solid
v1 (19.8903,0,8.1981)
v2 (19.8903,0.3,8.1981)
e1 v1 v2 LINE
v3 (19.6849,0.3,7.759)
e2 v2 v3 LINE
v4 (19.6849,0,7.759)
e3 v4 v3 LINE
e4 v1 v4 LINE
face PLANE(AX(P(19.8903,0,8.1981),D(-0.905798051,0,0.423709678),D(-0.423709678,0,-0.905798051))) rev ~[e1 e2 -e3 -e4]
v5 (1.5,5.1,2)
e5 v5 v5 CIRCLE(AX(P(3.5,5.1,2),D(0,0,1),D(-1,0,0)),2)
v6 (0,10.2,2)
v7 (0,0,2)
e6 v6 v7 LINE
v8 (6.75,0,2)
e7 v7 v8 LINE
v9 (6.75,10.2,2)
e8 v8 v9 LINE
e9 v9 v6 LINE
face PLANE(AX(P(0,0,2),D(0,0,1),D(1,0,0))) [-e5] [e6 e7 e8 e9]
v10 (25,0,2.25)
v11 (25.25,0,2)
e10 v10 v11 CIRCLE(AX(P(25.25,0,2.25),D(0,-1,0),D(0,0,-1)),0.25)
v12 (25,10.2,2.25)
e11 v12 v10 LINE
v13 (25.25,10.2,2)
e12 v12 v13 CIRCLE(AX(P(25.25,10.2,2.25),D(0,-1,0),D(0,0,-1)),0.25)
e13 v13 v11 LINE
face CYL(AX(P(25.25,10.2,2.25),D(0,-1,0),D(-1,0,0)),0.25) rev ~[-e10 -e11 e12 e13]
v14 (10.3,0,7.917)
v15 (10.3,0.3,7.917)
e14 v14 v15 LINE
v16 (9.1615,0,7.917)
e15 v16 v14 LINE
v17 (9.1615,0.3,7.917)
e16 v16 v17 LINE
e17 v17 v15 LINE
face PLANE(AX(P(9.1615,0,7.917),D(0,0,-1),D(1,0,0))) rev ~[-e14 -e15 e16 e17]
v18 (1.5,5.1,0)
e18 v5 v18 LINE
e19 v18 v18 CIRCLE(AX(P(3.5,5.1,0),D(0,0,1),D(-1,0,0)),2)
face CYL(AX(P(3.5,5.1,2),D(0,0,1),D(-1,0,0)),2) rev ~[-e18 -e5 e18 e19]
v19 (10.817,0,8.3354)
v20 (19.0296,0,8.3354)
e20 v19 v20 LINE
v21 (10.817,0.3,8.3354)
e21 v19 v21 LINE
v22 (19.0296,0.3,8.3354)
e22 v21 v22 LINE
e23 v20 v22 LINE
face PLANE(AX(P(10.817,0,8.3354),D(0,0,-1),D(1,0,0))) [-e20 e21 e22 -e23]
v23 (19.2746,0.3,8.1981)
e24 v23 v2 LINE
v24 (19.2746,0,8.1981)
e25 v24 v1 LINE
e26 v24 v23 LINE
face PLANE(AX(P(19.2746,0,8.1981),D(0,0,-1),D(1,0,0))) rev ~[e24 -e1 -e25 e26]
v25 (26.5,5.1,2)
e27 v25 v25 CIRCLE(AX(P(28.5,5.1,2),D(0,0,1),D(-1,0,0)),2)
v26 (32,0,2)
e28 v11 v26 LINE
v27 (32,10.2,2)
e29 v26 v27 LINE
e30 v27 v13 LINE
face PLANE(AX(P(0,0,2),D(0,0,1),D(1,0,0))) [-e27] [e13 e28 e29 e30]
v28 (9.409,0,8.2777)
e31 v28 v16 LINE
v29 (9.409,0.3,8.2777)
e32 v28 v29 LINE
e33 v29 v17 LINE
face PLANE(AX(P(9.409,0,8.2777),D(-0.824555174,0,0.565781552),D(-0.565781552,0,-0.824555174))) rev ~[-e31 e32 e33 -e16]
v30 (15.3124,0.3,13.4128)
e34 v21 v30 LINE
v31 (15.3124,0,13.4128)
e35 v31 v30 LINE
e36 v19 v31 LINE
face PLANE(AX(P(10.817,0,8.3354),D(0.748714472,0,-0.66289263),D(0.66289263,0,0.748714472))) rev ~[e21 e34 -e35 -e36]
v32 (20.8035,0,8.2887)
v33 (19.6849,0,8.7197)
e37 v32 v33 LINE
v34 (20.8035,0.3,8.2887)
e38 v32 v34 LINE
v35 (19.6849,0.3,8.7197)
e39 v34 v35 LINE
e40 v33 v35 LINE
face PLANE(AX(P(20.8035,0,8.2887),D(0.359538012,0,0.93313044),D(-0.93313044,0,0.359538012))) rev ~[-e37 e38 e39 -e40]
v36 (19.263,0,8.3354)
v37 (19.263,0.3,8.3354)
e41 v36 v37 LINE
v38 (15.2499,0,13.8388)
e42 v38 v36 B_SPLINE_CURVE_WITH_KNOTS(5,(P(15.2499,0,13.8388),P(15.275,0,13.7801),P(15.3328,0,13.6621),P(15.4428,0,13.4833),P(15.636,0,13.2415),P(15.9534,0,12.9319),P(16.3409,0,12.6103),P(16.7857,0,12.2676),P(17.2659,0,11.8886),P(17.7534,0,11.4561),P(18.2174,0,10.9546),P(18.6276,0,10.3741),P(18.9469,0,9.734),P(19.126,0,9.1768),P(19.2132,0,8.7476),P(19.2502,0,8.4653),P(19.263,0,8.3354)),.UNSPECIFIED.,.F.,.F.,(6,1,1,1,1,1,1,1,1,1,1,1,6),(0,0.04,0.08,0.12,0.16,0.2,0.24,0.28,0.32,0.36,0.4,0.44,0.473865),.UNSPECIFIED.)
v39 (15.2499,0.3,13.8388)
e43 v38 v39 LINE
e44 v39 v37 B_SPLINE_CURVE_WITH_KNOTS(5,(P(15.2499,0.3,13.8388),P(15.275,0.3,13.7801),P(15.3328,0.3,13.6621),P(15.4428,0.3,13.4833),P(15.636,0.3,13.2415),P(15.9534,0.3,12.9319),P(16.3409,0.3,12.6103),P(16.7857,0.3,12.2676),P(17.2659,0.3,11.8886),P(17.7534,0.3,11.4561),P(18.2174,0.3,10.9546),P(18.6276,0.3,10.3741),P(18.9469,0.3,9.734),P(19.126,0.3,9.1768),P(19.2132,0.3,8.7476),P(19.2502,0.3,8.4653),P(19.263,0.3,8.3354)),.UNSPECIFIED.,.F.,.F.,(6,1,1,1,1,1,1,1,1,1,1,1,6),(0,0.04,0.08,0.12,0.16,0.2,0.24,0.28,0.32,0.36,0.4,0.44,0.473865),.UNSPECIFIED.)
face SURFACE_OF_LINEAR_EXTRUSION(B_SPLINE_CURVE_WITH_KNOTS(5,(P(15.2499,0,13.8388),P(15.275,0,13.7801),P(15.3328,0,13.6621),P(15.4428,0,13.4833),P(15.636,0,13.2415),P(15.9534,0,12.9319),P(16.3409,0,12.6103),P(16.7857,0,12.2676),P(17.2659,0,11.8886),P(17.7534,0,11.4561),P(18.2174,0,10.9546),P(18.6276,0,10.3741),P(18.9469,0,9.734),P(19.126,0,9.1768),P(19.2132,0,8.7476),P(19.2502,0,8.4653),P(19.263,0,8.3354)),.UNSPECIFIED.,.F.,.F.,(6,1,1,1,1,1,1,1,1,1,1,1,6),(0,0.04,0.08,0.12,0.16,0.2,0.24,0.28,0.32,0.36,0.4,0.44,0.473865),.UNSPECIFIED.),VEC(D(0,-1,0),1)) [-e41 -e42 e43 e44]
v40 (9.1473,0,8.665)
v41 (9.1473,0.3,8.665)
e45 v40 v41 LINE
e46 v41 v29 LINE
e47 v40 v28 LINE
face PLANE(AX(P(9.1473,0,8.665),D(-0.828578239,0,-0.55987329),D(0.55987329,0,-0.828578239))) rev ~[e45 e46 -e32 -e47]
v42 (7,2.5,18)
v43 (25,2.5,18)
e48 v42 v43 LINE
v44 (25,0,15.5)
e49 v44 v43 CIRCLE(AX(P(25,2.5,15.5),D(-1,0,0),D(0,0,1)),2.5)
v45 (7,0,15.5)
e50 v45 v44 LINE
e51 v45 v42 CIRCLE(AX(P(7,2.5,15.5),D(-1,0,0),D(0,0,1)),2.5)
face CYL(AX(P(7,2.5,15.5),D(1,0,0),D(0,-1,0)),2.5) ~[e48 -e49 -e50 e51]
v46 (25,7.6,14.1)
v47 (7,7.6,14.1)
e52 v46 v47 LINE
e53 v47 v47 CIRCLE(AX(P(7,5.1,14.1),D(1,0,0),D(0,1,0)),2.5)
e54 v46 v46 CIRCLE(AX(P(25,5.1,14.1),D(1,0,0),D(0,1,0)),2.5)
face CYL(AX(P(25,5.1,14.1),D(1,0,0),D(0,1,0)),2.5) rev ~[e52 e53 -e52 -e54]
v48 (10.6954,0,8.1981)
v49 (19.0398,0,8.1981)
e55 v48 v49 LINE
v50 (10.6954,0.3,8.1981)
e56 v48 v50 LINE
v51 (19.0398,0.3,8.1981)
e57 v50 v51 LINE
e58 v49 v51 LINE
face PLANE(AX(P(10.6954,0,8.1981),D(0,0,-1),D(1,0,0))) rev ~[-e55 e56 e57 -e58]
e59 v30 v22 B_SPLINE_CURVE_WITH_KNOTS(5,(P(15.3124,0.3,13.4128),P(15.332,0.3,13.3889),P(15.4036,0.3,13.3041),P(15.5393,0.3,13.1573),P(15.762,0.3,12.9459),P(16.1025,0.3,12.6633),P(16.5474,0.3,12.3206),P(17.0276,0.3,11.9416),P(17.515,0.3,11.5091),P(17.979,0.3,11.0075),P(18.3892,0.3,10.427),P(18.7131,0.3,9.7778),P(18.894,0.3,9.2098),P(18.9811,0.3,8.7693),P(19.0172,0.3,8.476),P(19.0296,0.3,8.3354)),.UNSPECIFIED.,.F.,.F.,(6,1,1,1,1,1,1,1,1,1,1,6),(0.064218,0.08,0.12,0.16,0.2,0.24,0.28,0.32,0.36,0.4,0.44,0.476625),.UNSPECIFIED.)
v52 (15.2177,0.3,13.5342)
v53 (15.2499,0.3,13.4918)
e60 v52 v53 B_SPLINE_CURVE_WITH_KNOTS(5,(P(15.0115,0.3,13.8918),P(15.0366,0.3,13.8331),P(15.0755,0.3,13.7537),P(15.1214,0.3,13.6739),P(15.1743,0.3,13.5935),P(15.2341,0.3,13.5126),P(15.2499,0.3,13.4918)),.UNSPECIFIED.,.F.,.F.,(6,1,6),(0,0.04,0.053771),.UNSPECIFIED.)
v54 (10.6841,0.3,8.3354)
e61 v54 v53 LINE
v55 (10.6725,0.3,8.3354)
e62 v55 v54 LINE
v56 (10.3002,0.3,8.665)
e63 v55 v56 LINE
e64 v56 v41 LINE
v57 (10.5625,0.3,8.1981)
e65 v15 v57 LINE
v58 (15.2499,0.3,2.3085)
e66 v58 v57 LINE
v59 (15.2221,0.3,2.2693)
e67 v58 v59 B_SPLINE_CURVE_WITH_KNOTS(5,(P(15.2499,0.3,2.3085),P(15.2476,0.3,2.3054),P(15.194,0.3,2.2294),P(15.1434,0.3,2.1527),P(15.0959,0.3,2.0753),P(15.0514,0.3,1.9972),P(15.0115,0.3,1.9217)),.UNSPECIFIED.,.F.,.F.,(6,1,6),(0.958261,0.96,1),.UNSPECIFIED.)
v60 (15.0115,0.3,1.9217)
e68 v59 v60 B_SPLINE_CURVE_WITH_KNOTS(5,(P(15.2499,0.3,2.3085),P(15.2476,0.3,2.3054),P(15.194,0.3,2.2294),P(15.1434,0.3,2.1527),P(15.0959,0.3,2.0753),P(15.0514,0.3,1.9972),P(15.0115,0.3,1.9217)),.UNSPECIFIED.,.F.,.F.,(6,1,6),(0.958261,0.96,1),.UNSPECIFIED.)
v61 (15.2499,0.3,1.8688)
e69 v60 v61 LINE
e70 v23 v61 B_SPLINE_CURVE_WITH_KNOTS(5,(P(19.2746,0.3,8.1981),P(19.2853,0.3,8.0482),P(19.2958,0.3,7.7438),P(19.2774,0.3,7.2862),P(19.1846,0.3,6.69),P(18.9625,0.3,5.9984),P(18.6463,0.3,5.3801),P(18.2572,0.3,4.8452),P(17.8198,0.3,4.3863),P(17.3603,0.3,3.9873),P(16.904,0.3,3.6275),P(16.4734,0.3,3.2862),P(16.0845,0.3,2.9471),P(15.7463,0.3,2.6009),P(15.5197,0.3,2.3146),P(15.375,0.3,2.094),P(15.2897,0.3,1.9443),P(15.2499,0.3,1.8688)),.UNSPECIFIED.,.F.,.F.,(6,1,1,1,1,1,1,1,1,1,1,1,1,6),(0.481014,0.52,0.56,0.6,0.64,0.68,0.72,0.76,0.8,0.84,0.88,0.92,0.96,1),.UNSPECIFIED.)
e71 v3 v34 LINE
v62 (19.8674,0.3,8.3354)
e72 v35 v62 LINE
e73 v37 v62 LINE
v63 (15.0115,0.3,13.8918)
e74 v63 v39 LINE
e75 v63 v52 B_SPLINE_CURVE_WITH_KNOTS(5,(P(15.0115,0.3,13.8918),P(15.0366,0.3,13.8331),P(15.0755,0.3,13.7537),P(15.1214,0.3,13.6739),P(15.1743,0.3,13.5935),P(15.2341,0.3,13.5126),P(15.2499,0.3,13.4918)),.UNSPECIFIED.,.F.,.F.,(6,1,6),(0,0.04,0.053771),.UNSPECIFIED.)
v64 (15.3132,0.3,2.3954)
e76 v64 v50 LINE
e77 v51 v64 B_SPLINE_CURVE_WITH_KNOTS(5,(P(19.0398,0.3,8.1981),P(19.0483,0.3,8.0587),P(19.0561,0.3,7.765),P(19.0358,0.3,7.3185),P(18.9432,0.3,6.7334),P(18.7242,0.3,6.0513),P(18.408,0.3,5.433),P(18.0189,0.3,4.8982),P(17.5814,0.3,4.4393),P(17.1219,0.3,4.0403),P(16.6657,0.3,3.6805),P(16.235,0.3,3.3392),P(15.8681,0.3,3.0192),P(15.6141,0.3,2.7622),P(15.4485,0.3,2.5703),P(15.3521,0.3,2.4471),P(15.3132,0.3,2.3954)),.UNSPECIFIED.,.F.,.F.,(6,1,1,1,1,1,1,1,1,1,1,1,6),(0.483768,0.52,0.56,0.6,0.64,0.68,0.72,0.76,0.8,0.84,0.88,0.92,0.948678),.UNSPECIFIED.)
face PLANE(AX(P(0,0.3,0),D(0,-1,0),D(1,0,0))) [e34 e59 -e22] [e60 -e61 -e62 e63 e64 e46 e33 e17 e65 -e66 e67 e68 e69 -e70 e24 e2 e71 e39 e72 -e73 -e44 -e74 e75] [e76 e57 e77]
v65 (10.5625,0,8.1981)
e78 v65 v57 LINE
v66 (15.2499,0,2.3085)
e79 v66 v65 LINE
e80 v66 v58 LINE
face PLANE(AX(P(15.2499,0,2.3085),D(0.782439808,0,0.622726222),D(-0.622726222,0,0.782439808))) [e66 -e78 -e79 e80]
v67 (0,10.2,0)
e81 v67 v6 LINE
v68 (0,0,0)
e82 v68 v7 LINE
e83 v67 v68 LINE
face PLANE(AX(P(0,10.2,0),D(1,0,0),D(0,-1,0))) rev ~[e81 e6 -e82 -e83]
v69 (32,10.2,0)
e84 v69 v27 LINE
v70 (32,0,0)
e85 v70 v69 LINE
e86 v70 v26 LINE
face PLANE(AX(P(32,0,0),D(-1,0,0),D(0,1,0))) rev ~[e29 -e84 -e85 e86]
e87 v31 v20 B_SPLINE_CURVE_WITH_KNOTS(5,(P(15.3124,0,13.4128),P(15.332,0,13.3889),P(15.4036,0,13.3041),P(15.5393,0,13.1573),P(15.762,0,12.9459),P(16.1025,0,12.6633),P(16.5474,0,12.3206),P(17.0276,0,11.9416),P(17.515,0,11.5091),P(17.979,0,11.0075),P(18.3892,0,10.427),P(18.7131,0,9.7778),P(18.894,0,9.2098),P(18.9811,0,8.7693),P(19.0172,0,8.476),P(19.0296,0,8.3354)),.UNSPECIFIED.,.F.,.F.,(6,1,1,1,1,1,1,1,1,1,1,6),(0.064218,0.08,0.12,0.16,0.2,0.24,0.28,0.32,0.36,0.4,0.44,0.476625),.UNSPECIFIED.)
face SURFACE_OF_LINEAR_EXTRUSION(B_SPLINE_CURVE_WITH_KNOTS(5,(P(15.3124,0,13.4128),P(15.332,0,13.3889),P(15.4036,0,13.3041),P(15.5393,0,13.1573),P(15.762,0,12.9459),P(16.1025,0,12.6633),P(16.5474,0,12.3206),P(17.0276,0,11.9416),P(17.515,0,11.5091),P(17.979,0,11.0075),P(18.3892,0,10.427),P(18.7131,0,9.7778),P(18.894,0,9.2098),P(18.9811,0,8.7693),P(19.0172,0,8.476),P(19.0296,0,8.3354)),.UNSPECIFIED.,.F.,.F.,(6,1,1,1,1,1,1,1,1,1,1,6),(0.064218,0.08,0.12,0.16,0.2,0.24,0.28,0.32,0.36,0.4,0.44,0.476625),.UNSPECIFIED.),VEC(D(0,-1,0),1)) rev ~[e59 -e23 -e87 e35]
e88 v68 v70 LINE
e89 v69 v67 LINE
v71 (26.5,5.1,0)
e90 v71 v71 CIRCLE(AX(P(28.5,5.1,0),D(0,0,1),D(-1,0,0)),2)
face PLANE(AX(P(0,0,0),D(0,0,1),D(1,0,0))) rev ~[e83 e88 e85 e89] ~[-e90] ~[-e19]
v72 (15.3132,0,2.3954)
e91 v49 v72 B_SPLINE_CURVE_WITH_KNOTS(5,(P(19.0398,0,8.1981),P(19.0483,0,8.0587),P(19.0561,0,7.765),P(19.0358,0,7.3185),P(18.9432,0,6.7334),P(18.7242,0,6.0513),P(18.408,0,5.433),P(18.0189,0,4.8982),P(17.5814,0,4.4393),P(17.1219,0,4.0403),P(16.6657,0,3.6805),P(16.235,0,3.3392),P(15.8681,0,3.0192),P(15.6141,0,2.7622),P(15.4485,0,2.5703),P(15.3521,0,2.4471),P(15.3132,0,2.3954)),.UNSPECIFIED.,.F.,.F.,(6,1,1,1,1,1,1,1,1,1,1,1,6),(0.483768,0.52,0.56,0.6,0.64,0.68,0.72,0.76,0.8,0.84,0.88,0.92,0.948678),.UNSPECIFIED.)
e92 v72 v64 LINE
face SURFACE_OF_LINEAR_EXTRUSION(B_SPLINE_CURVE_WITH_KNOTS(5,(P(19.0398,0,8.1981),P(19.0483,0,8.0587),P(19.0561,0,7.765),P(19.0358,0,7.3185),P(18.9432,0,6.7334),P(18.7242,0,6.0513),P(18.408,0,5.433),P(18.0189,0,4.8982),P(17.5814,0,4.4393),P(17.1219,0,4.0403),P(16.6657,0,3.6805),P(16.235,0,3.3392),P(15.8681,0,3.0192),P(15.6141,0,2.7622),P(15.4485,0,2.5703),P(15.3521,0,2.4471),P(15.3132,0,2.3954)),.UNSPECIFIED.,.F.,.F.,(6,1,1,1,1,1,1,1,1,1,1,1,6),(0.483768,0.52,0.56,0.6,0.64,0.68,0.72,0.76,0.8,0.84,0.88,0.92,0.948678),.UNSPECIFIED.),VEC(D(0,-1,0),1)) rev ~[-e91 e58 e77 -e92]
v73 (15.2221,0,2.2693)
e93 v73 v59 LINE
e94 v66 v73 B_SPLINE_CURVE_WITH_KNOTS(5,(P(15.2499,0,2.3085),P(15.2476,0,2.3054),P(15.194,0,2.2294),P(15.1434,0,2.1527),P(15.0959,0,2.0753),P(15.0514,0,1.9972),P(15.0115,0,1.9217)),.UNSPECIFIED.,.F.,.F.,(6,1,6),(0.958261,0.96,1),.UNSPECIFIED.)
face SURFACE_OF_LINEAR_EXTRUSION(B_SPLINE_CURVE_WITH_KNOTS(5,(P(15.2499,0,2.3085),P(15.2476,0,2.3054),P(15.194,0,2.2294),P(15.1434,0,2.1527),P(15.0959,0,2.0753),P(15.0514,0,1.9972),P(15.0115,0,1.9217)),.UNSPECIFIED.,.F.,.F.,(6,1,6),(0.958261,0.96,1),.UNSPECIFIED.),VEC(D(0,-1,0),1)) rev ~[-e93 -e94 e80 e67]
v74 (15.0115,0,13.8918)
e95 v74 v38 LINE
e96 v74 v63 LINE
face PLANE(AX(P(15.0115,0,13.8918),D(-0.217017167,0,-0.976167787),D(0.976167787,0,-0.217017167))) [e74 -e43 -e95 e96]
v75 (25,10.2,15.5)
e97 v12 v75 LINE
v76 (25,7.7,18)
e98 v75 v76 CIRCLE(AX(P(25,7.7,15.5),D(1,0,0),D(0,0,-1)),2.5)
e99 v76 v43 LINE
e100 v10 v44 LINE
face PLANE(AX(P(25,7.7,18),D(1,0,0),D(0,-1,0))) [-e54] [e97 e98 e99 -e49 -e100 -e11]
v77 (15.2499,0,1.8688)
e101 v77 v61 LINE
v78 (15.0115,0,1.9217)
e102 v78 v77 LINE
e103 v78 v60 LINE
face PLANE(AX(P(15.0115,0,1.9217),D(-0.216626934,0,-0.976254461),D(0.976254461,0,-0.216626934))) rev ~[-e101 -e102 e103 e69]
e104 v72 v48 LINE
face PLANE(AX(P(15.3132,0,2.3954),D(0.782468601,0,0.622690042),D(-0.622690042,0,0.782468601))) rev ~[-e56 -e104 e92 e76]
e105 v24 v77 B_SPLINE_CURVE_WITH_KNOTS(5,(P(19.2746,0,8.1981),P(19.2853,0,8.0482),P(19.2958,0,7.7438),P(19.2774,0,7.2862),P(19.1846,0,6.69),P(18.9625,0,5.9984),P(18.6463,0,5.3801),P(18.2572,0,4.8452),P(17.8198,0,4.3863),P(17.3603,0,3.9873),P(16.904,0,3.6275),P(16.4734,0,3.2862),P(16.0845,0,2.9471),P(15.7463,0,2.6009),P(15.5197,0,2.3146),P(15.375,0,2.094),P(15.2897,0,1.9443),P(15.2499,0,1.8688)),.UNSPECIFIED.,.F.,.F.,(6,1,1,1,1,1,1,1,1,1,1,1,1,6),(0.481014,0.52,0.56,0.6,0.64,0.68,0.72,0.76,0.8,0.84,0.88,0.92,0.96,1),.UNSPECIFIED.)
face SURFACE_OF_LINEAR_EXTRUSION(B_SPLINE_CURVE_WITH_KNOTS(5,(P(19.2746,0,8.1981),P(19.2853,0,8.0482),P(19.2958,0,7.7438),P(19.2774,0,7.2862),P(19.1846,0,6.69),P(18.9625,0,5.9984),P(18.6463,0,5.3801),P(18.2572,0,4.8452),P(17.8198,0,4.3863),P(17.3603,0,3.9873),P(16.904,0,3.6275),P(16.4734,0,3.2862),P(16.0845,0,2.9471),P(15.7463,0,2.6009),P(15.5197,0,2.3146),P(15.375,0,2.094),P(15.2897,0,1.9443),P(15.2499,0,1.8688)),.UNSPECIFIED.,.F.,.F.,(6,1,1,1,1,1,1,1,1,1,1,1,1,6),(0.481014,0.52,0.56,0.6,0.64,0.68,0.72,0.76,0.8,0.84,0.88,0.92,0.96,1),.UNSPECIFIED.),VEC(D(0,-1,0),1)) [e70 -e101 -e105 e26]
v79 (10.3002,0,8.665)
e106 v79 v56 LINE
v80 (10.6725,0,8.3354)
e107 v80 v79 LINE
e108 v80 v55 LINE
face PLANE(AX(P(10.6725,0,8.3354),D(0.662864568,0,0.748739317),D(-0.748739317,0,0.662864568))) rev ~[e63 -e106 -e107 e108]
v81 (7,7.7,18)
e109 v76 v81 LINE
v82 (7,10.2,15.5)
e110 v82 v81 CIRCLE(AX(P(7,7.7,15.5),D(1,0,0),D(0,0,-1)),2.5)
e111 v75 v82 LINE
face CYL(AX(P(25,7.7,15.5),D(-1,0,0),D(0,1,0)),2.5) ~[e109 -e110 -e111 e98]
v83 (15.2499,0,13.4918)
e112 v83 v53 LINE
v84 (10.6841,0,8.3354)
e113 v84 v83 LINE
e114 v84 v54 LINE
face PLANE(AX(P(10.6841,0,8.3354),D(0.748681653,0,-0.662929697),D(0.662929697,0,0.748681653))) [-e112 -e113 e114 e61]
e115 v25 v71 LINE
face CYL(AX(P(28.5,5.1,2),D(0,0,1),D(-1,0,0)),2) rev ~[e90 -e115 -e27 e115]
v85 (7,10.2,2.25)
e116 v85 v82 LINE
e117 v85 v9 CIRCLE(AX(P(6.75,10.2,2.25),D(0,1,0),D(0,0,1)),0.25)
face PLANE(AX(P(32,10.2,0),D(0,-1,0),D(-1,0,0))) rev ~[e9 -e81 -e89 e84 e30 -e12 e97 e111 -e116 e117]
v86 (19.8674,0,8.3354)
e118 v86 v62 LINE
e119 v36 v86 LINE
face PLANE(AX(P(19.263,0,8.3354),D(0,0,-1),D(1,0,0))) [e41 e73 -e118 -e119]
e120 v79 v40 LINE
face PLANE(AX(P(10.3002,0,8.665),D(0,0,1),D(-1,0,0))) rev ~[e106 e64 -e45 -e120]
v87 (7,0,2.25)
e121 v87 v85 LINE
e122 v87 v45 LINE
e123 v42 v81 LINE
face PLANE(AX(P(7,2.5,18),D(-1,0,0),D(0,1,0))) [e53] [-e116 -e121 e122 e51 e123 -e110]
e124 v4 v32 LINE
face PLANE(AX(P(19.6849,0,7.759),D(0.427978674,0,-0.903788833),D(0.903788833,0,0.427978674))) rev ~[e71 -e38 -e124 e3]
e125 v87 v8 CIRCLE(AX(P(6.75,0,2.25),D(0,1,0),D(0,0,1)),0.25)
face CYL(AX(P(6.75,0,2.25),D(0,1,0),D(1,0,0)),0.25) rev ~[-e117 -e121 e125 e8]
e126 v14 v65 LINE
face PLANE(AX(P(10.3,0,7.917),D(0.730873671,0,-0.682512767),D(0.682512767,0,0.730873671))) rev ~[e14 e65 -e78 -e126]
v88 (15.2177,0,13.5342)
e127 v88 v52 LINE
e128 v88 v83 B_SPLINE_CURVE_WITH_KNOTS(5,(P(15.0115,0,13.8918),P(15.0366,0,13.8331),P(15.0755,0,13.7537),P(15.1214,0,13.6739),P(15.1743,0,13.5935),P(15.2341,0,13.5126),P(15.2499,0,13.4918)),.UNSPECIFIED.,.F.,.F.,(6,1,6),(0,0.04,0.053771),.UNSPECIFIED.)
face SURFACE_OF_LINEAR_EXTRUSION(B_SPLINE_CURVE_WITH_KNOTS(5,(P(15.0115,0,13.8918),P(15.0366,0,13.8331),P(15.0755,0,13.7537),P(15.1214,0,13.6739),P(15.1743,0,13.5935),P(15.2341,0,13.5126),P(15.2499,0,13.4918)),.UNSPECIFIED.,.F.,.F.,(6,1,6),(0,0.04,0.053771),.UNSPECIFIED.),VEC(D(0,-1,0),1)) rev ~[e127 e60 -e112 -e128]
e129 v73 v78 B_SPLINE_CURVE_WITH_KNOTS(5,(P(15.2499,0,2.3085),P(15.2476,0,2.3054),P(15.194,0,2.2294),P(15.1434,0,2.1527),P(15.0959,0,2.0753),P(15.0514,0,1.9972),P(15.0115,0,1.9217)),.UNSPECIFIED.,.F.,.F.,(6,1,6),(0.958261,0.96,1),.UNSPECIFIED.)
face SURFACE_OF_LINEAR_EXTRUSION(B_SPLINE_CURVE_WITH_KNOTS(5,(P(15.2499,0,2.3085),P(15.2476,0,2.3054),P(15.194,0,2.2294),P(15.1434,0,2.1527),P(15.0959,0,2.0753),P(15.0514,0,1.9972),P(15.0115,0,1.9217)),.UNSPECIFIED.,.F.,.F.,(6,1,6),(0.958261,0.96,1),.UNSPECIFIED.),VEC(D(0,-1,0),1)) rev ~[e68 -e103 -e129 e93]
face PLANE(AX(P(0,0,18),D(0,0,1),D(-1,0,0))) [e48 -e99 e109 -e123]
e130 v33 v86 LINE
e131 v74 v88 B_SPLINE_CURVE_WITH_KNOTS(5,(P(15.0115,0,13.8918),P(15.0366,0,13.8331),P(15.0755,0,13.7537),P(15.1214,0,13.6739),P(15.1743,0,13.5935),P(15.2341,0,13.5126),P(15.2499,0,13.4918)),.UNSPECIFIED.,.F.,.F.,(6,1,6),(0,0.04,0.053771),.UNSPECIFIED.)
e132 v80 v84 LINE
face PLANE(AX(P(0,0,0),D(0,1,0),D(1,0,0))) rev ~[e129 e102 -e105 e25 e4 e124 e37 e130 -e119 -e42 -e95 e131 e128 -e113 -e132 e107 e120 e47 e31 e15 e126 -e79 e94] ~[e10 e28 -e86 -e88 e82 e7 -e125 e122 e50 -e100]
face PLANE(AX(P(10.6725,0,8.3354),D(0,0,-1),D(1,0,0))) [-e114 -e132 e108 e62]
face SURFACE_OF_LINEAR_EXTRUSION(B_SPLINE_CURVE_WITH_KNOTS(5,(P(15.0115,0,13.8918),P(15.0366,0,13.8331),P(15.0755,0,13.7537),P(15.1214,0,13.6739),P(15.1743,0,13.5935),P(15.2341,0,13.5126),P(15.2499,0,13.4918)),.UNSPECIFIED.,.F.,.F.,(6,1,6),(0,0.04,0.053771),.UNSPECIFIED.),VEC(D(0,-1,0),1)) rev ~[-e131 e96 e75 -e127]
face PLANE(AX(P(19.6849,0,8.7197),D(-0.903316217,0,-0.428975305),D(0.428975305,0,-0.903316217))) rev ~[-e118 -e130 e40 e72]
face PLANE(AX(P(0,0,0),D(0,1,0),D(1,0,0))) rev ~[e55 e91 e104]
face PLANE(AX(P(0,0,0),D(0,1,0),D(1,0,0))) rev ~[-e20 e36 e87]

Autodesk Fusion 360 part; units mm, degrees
sketch "Sketch1" plane through (0, 0, 0) normal (0, 0, 1) x (1, 0, 0)
  line L0 (0, 0) -> (32, 0)
  line L1 (32, 0) -> (32, 10.2)
  line L2 (32, 10.2) -> (0, 10.2)
  line L3 (0, 10.2) -> (0, 0)
  dimension "d1" = 32
  dimension "d2" = 10.2
extrude "Extrude1" add sketch "Sketch1" along normal blind 2
sketch "Sketch2" plane through (0, 0, 2) normal (0, 0, 1) x (-1, 0, 0)
  line L0 (0, -10.2) -> (0, 0)
  line L1 (0, 0) -> (-32, 0)
  line L2 (-32, 0) -> (-32, -10.2)
  line L3 (-32, -10.2) -> (0, -10.2)
  line L4 (-7, -10.2) -> (-25, -10.2)
  line L5 (-25, -10.2) -> (-25, 0)
  line L6 (-25, 0) -> (-7, 0)
  line L7 (-7, 0) -> (-7, -10.2)
  circle A0 centre (-3.5, -5.1) radius 2
  circle A1 centre (-28.5, -5.1) radius 2
  dimension "d5" = 7
  dimension "d6" = 7
  dimension "d7" = 5.1
  dimension "d8" = 3.5
  dimension "d9" = 4
  dimension "d10" = 3.5
  dimension "d11" = 5.1
  dimension "d12" = 4
extrude "Extrude2" cut sketch "Sketch2" against normal blind 2.1 contours A0 | A1
extrude "Extrude3" add sketch "Sketch2" along normal blind 16 contours L1 L3 L4 L5 L6 L7
sketch "Sketch3" plane through (25, 0, 0) normal (1, 0, 0) x (0, 1, 0)
  line L0 (0, 2) -> (10.2, 2)
  line L1 (10.2, 2) -> (10.2, 18)
  line L2 (10.2, 18) -> (0, 18)
  line L3 (0, 18) -> (0, 2)
  circle A0 centre (5.1, 14.1) radius 2.5
  dimension "d17" = 3.9
  dimension "d18" = 5.1
  dimension "d19" = 5
extrude "Extrude4" cut sketch "Sketch3" against normal blind 20 contours A0
fillet "Fillet1" radius 2.5 2 edges at (16, 0, 18) (16, 10.2, 18)
fillet "Fillet2" radius 0.25 2 edges at (25, 5.1, 2) (7, 5.1, 2)
sketch "Sketch4" plane through (0, 0, 0) normal (0, -1, 0) x (1, 0, 0)
  line L0 (25, 15.5) -> (7, 15.5)
  line L1 (7, 15.5) -> (7, 2.25)
  arc A0 (6.75, 2) -> (7, 2.25) centre (6.75, 2.25) ccw
  line L2 (6.75, 2) -> (0, 2)
  line L3 (0, 2) -> (0, 0)
  line L4 (0, 0) -> (32, 0)
  line L5 (32, 0) -> (32, 2)
  line L6 (32, 2) -> (25.25, 2)
  arc A1 (25, 2.25) -> (25.25, 2) centre (25.25, 2.25) ccw
  line L7 (25, 2.25) -> (25, 15.5)
  line L8 (15.0115, 13.8918) -> (15.2499, 13.8388)
  line L9 (15.0115, 1.9217) -> (15.2499, 1.8688)
  line L10 (15.2499, 2.3085) -> (10.5625, 8.1981)
  line L11 (10.6841, 8.3354) -> (15.2499, 13.4918)
  line L12 (10.817, 8.3354) -> (15.3124, 13.4128)
  line L13 (15.3132, 2.3954) -> (10.6954, 8.1981)
  spline S0 degree 5 poles (15.0115, 13.8918) (15.0366, 13.8331) (15.0755, 13.7537) (15.1214, 13.6739) (15.1743, 13.5935) (15.2341, 13.5126) (15.2499, 13.4918) knots 0 0 0 0 0 0 0.04 0.053771 0.053771 0.053771 0.053771 0.053771 0.053771
  line L14 (15.2177, 13.5342) -> (15.2821, 13.4495)
  spline S1 degree 5 poles (15.2499, 2.3085) (15.2476, 2.3054) (15.194, 2.2294) (15.1434, 2.1527) (15.0959, 2.0753) (15.0514, 1.9972) (15.0115, 1.9217) knots 0.958261 0.958261 0.958261 0.958261 0.958261 0.958261 0.96 1 1 1 1 1 1
  line L15 (15.2777, 2.3478) -> (15.2221, 2.2693)
  line L16 (19.8903, 8.1981) -> (19.6849, 7.759)
  line L17 (19.6849, 7.759) -> (20.8035, 8.2887)
  line L18 (20.8035, 8.2887) -> (19.6849, 8.7197)
  line L19 (19.6849, 8.7197) -> (19.8674, 8.3354)
  spline S2 degree 5 poles (15.2499, 13.8388) (15.275, 13.7801) (15.3328, 13.6621) (15.4428, 13.4833) (15.636, 13.2415) (15.9534, 12.9319) (16.3409, 12.6103) (16.7857, 12.2676) (17.2659, 11.8886) (17.7534, 11.4561) (18.2174, 10.9546) (18.6276, 10.3741) (18.9469, 9.734) (19.126, 9.1768) (19.2132, 8.7476) (19.2502, 8.4653) (19.263, 8.3354) knots 0 0 0 0 0 0 0.04 0.08 0.12 0.16 0.2 0.24 0.28 0.32 0.36 0.4 0.44 0.473865 0.473865 0.473865 0.473865 0.473865 0.473865
  line L20 (19.1848, 9.1287) -> (19.3411, 7.542)
  spline S3 degree 5 poles (19.2746, 8.1981) (19.2853, 8.0482) (19.2958, 7.7438) (19.2774, 7.2862) (19.1846, 6.69) (18.9625, 5.9984) (18.6463, 5.3801) (18.2572, 4.8452) (17.8198, 4.3863) (17.3603, 3.9873) (16.904, 3.6275) (16.4734, 3.2862) (16.0845, 2.9471) (15.7463, 2.6009) (15.5197, 2.3146) (15.375, 2.094) (15.2897, 1.9443) (15.2499, 1.8688) knots 0.481014 0.481014 0.481014 0.481014 0.481014 0.481014 0.52 0.56 0.6 0.64 0.68 0.72 0.76 0.8 0.84 0.88 0.92 0.96 1 1 1 1 1 1
  line L21 (19.2097, 9.1087) -> (19.3396, 7.2875)
  spline S4 degree 5 poles (15.3124, 13.4128) (15.332, 13.3889) (15.4036, 13.3041) (15.5393, 13.1573) (15.762, 12.9459) (16.1025, 12.6633) (16.5474, 12.3206) (17.0276, 11.9416) (17.515, 11.5091) (17.979, 11.0075) (18.3892, 10.427) (18.7131, 9.7778) (18.894, 9.2098) (18.9811, 8.7693) (19.0172, 8.476) (19.0296, 8.3354) knots 0.064218 0.064218 0.064218 0.064218 0.064218 0.064218 0.08 0.12 0.16 0.2 0.24 0.28 0.32 0.36 0.4 0.44 0.476625 0.476625 0.476625 0.476625 0.476625 0.476625
  line L22 (14.9219, 13.8881) -> (15.7028, 12.9376)
  line L23 (18.9651, 9.0672) -> (19.094, 7.6035)
  spline S5 degree 5 poles (19.0398, 8.1981) (19.0483, 8.0587) (19.0561, 7.765) (19.0358, 7.3185) (18.9432, 6.7334) (18.7242, 6.0513) (18.408, 5.433) (18.0189, 4.8982) (17.5814, 4.4393) (17.1219, 4.0403) (16.6657, 3.6805) (16.235, 3.3392) (15.8681, 3.0192) (15.6141, 2.7622) (15.4485, 2.5703) (15.3521, 2.4471) (15.3132, 2.3954) knots 0.483768 0.483768 0.483768 0.483768 0.483768 0.483768 0.52 0.56 0.6 0.64 0.68 0.72 0.76 0.8 0.84 0.88 0.92 0.948678 0.948678 0.948678 0.948678 0.948678 0.948678
  line L24 (18.989, 9.0312) -> (19.0905, 7.3649)
  line L25 (15.7537, 2.9821) -> (14.8727, 1.8087)
  line L26 (10.6954, 8.1981) -> (19.0398, 8.1981)
  line L27 (19.2746, 8.1981) -> (19.8903, 8.1981)
  line L28 (19.263, 8.3354) -> (19.8674, 8.3354)
  line L29 (10.6725, 8.3354) -> (10.3002, 8.665)
  line L30 (10.3002, 8.665) -> (9.1473, 8.665)
  line L31 (9.1473, 8.665) -> (9.409, 8.2777)
  line L32 (9.409, 8.2777) -> (9.1615, 7.917)
  line L33 (9.1615, 7.917) -> (10.3, 7.917)
  line L34 (10.3, 7.917) -> (10.5625, 8.1981)
  line L35 (10.6725, 8.3354) -> (10.6841, 8.3354)
  line L36 (10.817, 8.3354) -> (19.0296, 8.3354)
  point P0 (16.3357, 12.6206)
  point P1 (16.627, 3.4048)
  point P2 (18.7456, 10.1048)
  point P3 (18.825, 5.7617)
  point P4 (18.5867, 5.8147)
  point P5 (18.5072, 10.1578)
  point P6 (16.0973, 12.6736)
  point P7 (16.3886, 3.4577)
extrude "Extrude5" cut sketch "Sketch4" against normal blind 0.3 contours L8 L9 S0 L14 S1 L15 S2 L20 S3 L21 S4 L22 L23 S5 L24 L25 | L16 L17 L18 L19 L20 L21 L27 L28 | L10 L11 L12 L13 L14 L15 L22 L23 L24 L25 L26 L29 L30 L31 L32 L33 L34 L35 L36
sketch "Sketch5" plane through (0, 0, 18) normal (0, 0, 1) x (-1, 0, 0)
  line L0 (-25, -7.7) -> (-7, -7.7)
  line L1 (-7, -7.7) -> (-7, -2.5)
  line L2 (-7, -2.5) -> (-25, -2.5)
  line L3 (-25, -2.5) -> (-25, -7.7)
  line L4 (-7, -10.2) -> (-25, -10.2)
  line L5 (-25, -10.2) -> (-25, 0)
  line L6 (-25, 0) -> (-7, 0)
  line L7 (-7, 0) -> (-7, -10.2)
  point P0 (-7, -10.2)
  point P1 (-25, 0)
sketch "Sketch6" plane through (16, 5.1, 19.1) normal (0, 0, 1) x (1, 0, 0)
  line L0 (-9, 5.1) -> (9, 5.1)
  line L1 (9, 5.1) -> (9, -5.1)
  line L2 (9, -5.1) -> (-9, -5.1)
  line L3 (-9, -5.1) -> (-9, 5.1)
  point P0 (-9, 5.1)
  point P1 (9, -5.1)
extrude "Extrude6" add 1 faces at (19, 4.2333, 18) along direction (0, 0, 1) blind 1.1
sketch "Sketch7" plane through (16, 0, 18.55) normal (0, -1, 0) x (1, 0, 0)
  line L0 (-9, -3.05) -> (9, -3.05)
  line L1 (9, -3.05) -> (9, 0.55)
  line L2 (9, 0.55) -> (-9, 0.55)
  line L3 (-9, 0.55) -> (-9, -3.05)
  point P0 (-9, -3.05)
  point P1 (9, 0.55)
sketch "Sketch8" plane through (0, 0, 0) normal (0, -1, 0) x (1, 0, 0)
  line L0 (9.409, 8.2777) -> (9.1473, 8.665)
  line L1 (9.1473, 8.665) -> (10.3002, 8.665)
  line L2 (10.3002, 8.665) -> (10.6725, 8.3354)
  line L3 (10.6725, 8.3354) -> (10.6841, 8.3354)
  line L4 (10.6841, 8.3354) -> (15.2499, 13.4918)
  spline S0 degree 5 poles (15.2499, 13.4918) (15.2341, 13.5126) (15.1743, 13.5935) (15.1214, 13.6739) (15.0755, 13.7537) (15.0366, 13.8331) (15.0115, 13.8918) knots -0.053771 -0.053771 -0.053771 -0.053771 -0.053771 -0.053771 -0.04 0 0 0 0 0 0
  line L5 (15.0115, 13.8918) -> (15.2499, 13.8388)
  spline S1 degree 5 poles (15.2499, 13.8388) (15.275, 13.7801) (15.3328, 13.6621) (15.4428, 13.4833) (15.636, 13.2415) (15.9534, 12.9319) (16.3409, 12.6103) (16.7857, 12.2676) (17.2659, 11.8886) (17.7534, 11.4561) (18.2174, 10.9546) (18.6276, 10.3741) (18.9469, 9.734) (19.126, 9.1768) (19.2132, 8.7476) (19.2502, 8.4653) (19.263, 8.3354) knots 0 0 0 0 0 0 0.04 0.08 0.12 0.16 0.2 0.24 0.28 0.32 0.36 0.4 0.44 0.473865 0.473865 0.473865 0.473865 0.473865 0.473865
  line L6 (19.263, 8.3354) -> (19.8674, 8.3354)
  line L7 (19.8674, 8.3354) -> (19.6849, 8.7197)
  line L8 (19.6849, 8.7197) -> (20.8035, 8.2887)
  line L9 (20.8035, 8.2887) -> (19.6849, 7.759)
  line L10 (19.6849, 7.759) -> (19.8903, 8.1981)
  line L11 (19.8903, 8.1981) -> (19.2746, 8.1981)
  spline S2 degree 5 poles (19.2746, 8.1981) (19.2853, 8.0482) (19.2958, 7.7438) (19.2774, 7.2862) (19.1846, 6.69) (18.9625, 5.9984) (18.6463, 5.3801) (18.2572, 4.8452) (17.8198, 4.3863) (17.3603, 3.9873) (16.904, 3.6275) (16.4734, 3.2862) (16.0845, 2.9471) (15.7463, 2.6009) (15.5197, 2.3146) (15.375, 2.094) (15.2897, 1.9443) (15.2499, 1.8688) knots 0.481014 0.481014 0.481014 0.481014 0.481014 0.481014 0.52 0.56 0.6 0.64 0.68 0.72 0.76 0.8 0.84 0.88 0.92 0.96 1 1 1 1 1 1
  line L12 (15.2499, 1.8688) -> (15.0115, 1.9217)
  spline S3 degree 5 poles (15.0115, 1.9217) (15.0514, 1.9972) (15.0959, 2.0753) (15.1434, 2.1527) (15.194, 2.2294) (15.2476, 2.3054) (15.2499, 2.3085) knots -1 -1 -1 -1 -1 -1 -0.96 -0.958261 -0.958261 -0.958261 -0.958261 -0.958261 -0.958261
  line L13 (15.2499, 2.3085) -> (10.5625, 8.1981)
  line L14 (10.5625, 8.1981) -> (10.3, 7.917)
  line L15 (10.3, 7.917) -> (9.1615, 7.917)
  line L16 (9.1615, 7.917) -> (9.409, 8.2777)
  line L17 (25, 15.5) -> (7, 15.5)
  line L18 (7, 15.5) -> (7, 2.25)
  arc A0 (6.75, 2) -> (7, 2.25) centre (6.75, 2.25) ccw
  line L19 (6.75, 2) -> (0, 2)
  line L20 (0, 2) -> (0, 0)
  line L21 (0, 0) -> (32, 0)
  line L22 (32, 0) -> (32, 2)
  line L23 (32, 2) -> (25.25, 2)
  arc A1 (25, 2.25) -> (25.25, 2) centre (25.25, 2.25) ccw
  line L24 (25, 2.25) -> (25, 15.5)
  line L25 (7, 15.5) -> (25, 15.5)
  line L26 (25, 15.5) -> (25, 19.1)
  line L27 (25, 19.1) -> (7, 19.1)
  line L28 (7, 19.1) -> (7, 15.5)
  point P0 (25, 19.1)
sketch "Sketch9" plane through (0, 0, 0) normal (0, -1, 0) x (1, 0, 0)
sketch "Sketch10" plane through (25, 0, 0) normal (1, 0, 0) x (0, 1, 0)
  line L0 (0, 2.25) -> (10.2, 2.25)
  line L1 (10.2, 2.25) -> (10.2, 15.5)
  arc A0 (10.2, 15.5) -> (7.7, 18) centre (7.7, 15.5) ccw
  line L2 (7.7, 18) -> (7.7, 19.1)
  line L3 (7.7, 19.1) -> (2.5, 19.1)
  line L4 (2.5, 19.1) -> (2.5, 18)
  arc A1 (2.5, 18) -> (0, 15.5) centre (2.5, 15.5) ccw
  line L5 (0, 15.5) -> (0, 2.25)
  circle A2 centre (5.1, 14.1) radius 2.5
  line L6 (0, 19.1) -> (10.2, 19.1)
  line L7 (10.2, 19.1) -> (10.2, 10)
  line L8 (10.2, 10) -> (0, 10)
  line L9 (0, 10) -> (0, 19.1)
  line L10 (10.2, 2) -> (10.2, 18)
  point P0 (0, 19.1)
extrude "Extrude7" cut 1 faces at (19, 4.2333, 19.1) along direction (0, 0, -1) blind 1.1
